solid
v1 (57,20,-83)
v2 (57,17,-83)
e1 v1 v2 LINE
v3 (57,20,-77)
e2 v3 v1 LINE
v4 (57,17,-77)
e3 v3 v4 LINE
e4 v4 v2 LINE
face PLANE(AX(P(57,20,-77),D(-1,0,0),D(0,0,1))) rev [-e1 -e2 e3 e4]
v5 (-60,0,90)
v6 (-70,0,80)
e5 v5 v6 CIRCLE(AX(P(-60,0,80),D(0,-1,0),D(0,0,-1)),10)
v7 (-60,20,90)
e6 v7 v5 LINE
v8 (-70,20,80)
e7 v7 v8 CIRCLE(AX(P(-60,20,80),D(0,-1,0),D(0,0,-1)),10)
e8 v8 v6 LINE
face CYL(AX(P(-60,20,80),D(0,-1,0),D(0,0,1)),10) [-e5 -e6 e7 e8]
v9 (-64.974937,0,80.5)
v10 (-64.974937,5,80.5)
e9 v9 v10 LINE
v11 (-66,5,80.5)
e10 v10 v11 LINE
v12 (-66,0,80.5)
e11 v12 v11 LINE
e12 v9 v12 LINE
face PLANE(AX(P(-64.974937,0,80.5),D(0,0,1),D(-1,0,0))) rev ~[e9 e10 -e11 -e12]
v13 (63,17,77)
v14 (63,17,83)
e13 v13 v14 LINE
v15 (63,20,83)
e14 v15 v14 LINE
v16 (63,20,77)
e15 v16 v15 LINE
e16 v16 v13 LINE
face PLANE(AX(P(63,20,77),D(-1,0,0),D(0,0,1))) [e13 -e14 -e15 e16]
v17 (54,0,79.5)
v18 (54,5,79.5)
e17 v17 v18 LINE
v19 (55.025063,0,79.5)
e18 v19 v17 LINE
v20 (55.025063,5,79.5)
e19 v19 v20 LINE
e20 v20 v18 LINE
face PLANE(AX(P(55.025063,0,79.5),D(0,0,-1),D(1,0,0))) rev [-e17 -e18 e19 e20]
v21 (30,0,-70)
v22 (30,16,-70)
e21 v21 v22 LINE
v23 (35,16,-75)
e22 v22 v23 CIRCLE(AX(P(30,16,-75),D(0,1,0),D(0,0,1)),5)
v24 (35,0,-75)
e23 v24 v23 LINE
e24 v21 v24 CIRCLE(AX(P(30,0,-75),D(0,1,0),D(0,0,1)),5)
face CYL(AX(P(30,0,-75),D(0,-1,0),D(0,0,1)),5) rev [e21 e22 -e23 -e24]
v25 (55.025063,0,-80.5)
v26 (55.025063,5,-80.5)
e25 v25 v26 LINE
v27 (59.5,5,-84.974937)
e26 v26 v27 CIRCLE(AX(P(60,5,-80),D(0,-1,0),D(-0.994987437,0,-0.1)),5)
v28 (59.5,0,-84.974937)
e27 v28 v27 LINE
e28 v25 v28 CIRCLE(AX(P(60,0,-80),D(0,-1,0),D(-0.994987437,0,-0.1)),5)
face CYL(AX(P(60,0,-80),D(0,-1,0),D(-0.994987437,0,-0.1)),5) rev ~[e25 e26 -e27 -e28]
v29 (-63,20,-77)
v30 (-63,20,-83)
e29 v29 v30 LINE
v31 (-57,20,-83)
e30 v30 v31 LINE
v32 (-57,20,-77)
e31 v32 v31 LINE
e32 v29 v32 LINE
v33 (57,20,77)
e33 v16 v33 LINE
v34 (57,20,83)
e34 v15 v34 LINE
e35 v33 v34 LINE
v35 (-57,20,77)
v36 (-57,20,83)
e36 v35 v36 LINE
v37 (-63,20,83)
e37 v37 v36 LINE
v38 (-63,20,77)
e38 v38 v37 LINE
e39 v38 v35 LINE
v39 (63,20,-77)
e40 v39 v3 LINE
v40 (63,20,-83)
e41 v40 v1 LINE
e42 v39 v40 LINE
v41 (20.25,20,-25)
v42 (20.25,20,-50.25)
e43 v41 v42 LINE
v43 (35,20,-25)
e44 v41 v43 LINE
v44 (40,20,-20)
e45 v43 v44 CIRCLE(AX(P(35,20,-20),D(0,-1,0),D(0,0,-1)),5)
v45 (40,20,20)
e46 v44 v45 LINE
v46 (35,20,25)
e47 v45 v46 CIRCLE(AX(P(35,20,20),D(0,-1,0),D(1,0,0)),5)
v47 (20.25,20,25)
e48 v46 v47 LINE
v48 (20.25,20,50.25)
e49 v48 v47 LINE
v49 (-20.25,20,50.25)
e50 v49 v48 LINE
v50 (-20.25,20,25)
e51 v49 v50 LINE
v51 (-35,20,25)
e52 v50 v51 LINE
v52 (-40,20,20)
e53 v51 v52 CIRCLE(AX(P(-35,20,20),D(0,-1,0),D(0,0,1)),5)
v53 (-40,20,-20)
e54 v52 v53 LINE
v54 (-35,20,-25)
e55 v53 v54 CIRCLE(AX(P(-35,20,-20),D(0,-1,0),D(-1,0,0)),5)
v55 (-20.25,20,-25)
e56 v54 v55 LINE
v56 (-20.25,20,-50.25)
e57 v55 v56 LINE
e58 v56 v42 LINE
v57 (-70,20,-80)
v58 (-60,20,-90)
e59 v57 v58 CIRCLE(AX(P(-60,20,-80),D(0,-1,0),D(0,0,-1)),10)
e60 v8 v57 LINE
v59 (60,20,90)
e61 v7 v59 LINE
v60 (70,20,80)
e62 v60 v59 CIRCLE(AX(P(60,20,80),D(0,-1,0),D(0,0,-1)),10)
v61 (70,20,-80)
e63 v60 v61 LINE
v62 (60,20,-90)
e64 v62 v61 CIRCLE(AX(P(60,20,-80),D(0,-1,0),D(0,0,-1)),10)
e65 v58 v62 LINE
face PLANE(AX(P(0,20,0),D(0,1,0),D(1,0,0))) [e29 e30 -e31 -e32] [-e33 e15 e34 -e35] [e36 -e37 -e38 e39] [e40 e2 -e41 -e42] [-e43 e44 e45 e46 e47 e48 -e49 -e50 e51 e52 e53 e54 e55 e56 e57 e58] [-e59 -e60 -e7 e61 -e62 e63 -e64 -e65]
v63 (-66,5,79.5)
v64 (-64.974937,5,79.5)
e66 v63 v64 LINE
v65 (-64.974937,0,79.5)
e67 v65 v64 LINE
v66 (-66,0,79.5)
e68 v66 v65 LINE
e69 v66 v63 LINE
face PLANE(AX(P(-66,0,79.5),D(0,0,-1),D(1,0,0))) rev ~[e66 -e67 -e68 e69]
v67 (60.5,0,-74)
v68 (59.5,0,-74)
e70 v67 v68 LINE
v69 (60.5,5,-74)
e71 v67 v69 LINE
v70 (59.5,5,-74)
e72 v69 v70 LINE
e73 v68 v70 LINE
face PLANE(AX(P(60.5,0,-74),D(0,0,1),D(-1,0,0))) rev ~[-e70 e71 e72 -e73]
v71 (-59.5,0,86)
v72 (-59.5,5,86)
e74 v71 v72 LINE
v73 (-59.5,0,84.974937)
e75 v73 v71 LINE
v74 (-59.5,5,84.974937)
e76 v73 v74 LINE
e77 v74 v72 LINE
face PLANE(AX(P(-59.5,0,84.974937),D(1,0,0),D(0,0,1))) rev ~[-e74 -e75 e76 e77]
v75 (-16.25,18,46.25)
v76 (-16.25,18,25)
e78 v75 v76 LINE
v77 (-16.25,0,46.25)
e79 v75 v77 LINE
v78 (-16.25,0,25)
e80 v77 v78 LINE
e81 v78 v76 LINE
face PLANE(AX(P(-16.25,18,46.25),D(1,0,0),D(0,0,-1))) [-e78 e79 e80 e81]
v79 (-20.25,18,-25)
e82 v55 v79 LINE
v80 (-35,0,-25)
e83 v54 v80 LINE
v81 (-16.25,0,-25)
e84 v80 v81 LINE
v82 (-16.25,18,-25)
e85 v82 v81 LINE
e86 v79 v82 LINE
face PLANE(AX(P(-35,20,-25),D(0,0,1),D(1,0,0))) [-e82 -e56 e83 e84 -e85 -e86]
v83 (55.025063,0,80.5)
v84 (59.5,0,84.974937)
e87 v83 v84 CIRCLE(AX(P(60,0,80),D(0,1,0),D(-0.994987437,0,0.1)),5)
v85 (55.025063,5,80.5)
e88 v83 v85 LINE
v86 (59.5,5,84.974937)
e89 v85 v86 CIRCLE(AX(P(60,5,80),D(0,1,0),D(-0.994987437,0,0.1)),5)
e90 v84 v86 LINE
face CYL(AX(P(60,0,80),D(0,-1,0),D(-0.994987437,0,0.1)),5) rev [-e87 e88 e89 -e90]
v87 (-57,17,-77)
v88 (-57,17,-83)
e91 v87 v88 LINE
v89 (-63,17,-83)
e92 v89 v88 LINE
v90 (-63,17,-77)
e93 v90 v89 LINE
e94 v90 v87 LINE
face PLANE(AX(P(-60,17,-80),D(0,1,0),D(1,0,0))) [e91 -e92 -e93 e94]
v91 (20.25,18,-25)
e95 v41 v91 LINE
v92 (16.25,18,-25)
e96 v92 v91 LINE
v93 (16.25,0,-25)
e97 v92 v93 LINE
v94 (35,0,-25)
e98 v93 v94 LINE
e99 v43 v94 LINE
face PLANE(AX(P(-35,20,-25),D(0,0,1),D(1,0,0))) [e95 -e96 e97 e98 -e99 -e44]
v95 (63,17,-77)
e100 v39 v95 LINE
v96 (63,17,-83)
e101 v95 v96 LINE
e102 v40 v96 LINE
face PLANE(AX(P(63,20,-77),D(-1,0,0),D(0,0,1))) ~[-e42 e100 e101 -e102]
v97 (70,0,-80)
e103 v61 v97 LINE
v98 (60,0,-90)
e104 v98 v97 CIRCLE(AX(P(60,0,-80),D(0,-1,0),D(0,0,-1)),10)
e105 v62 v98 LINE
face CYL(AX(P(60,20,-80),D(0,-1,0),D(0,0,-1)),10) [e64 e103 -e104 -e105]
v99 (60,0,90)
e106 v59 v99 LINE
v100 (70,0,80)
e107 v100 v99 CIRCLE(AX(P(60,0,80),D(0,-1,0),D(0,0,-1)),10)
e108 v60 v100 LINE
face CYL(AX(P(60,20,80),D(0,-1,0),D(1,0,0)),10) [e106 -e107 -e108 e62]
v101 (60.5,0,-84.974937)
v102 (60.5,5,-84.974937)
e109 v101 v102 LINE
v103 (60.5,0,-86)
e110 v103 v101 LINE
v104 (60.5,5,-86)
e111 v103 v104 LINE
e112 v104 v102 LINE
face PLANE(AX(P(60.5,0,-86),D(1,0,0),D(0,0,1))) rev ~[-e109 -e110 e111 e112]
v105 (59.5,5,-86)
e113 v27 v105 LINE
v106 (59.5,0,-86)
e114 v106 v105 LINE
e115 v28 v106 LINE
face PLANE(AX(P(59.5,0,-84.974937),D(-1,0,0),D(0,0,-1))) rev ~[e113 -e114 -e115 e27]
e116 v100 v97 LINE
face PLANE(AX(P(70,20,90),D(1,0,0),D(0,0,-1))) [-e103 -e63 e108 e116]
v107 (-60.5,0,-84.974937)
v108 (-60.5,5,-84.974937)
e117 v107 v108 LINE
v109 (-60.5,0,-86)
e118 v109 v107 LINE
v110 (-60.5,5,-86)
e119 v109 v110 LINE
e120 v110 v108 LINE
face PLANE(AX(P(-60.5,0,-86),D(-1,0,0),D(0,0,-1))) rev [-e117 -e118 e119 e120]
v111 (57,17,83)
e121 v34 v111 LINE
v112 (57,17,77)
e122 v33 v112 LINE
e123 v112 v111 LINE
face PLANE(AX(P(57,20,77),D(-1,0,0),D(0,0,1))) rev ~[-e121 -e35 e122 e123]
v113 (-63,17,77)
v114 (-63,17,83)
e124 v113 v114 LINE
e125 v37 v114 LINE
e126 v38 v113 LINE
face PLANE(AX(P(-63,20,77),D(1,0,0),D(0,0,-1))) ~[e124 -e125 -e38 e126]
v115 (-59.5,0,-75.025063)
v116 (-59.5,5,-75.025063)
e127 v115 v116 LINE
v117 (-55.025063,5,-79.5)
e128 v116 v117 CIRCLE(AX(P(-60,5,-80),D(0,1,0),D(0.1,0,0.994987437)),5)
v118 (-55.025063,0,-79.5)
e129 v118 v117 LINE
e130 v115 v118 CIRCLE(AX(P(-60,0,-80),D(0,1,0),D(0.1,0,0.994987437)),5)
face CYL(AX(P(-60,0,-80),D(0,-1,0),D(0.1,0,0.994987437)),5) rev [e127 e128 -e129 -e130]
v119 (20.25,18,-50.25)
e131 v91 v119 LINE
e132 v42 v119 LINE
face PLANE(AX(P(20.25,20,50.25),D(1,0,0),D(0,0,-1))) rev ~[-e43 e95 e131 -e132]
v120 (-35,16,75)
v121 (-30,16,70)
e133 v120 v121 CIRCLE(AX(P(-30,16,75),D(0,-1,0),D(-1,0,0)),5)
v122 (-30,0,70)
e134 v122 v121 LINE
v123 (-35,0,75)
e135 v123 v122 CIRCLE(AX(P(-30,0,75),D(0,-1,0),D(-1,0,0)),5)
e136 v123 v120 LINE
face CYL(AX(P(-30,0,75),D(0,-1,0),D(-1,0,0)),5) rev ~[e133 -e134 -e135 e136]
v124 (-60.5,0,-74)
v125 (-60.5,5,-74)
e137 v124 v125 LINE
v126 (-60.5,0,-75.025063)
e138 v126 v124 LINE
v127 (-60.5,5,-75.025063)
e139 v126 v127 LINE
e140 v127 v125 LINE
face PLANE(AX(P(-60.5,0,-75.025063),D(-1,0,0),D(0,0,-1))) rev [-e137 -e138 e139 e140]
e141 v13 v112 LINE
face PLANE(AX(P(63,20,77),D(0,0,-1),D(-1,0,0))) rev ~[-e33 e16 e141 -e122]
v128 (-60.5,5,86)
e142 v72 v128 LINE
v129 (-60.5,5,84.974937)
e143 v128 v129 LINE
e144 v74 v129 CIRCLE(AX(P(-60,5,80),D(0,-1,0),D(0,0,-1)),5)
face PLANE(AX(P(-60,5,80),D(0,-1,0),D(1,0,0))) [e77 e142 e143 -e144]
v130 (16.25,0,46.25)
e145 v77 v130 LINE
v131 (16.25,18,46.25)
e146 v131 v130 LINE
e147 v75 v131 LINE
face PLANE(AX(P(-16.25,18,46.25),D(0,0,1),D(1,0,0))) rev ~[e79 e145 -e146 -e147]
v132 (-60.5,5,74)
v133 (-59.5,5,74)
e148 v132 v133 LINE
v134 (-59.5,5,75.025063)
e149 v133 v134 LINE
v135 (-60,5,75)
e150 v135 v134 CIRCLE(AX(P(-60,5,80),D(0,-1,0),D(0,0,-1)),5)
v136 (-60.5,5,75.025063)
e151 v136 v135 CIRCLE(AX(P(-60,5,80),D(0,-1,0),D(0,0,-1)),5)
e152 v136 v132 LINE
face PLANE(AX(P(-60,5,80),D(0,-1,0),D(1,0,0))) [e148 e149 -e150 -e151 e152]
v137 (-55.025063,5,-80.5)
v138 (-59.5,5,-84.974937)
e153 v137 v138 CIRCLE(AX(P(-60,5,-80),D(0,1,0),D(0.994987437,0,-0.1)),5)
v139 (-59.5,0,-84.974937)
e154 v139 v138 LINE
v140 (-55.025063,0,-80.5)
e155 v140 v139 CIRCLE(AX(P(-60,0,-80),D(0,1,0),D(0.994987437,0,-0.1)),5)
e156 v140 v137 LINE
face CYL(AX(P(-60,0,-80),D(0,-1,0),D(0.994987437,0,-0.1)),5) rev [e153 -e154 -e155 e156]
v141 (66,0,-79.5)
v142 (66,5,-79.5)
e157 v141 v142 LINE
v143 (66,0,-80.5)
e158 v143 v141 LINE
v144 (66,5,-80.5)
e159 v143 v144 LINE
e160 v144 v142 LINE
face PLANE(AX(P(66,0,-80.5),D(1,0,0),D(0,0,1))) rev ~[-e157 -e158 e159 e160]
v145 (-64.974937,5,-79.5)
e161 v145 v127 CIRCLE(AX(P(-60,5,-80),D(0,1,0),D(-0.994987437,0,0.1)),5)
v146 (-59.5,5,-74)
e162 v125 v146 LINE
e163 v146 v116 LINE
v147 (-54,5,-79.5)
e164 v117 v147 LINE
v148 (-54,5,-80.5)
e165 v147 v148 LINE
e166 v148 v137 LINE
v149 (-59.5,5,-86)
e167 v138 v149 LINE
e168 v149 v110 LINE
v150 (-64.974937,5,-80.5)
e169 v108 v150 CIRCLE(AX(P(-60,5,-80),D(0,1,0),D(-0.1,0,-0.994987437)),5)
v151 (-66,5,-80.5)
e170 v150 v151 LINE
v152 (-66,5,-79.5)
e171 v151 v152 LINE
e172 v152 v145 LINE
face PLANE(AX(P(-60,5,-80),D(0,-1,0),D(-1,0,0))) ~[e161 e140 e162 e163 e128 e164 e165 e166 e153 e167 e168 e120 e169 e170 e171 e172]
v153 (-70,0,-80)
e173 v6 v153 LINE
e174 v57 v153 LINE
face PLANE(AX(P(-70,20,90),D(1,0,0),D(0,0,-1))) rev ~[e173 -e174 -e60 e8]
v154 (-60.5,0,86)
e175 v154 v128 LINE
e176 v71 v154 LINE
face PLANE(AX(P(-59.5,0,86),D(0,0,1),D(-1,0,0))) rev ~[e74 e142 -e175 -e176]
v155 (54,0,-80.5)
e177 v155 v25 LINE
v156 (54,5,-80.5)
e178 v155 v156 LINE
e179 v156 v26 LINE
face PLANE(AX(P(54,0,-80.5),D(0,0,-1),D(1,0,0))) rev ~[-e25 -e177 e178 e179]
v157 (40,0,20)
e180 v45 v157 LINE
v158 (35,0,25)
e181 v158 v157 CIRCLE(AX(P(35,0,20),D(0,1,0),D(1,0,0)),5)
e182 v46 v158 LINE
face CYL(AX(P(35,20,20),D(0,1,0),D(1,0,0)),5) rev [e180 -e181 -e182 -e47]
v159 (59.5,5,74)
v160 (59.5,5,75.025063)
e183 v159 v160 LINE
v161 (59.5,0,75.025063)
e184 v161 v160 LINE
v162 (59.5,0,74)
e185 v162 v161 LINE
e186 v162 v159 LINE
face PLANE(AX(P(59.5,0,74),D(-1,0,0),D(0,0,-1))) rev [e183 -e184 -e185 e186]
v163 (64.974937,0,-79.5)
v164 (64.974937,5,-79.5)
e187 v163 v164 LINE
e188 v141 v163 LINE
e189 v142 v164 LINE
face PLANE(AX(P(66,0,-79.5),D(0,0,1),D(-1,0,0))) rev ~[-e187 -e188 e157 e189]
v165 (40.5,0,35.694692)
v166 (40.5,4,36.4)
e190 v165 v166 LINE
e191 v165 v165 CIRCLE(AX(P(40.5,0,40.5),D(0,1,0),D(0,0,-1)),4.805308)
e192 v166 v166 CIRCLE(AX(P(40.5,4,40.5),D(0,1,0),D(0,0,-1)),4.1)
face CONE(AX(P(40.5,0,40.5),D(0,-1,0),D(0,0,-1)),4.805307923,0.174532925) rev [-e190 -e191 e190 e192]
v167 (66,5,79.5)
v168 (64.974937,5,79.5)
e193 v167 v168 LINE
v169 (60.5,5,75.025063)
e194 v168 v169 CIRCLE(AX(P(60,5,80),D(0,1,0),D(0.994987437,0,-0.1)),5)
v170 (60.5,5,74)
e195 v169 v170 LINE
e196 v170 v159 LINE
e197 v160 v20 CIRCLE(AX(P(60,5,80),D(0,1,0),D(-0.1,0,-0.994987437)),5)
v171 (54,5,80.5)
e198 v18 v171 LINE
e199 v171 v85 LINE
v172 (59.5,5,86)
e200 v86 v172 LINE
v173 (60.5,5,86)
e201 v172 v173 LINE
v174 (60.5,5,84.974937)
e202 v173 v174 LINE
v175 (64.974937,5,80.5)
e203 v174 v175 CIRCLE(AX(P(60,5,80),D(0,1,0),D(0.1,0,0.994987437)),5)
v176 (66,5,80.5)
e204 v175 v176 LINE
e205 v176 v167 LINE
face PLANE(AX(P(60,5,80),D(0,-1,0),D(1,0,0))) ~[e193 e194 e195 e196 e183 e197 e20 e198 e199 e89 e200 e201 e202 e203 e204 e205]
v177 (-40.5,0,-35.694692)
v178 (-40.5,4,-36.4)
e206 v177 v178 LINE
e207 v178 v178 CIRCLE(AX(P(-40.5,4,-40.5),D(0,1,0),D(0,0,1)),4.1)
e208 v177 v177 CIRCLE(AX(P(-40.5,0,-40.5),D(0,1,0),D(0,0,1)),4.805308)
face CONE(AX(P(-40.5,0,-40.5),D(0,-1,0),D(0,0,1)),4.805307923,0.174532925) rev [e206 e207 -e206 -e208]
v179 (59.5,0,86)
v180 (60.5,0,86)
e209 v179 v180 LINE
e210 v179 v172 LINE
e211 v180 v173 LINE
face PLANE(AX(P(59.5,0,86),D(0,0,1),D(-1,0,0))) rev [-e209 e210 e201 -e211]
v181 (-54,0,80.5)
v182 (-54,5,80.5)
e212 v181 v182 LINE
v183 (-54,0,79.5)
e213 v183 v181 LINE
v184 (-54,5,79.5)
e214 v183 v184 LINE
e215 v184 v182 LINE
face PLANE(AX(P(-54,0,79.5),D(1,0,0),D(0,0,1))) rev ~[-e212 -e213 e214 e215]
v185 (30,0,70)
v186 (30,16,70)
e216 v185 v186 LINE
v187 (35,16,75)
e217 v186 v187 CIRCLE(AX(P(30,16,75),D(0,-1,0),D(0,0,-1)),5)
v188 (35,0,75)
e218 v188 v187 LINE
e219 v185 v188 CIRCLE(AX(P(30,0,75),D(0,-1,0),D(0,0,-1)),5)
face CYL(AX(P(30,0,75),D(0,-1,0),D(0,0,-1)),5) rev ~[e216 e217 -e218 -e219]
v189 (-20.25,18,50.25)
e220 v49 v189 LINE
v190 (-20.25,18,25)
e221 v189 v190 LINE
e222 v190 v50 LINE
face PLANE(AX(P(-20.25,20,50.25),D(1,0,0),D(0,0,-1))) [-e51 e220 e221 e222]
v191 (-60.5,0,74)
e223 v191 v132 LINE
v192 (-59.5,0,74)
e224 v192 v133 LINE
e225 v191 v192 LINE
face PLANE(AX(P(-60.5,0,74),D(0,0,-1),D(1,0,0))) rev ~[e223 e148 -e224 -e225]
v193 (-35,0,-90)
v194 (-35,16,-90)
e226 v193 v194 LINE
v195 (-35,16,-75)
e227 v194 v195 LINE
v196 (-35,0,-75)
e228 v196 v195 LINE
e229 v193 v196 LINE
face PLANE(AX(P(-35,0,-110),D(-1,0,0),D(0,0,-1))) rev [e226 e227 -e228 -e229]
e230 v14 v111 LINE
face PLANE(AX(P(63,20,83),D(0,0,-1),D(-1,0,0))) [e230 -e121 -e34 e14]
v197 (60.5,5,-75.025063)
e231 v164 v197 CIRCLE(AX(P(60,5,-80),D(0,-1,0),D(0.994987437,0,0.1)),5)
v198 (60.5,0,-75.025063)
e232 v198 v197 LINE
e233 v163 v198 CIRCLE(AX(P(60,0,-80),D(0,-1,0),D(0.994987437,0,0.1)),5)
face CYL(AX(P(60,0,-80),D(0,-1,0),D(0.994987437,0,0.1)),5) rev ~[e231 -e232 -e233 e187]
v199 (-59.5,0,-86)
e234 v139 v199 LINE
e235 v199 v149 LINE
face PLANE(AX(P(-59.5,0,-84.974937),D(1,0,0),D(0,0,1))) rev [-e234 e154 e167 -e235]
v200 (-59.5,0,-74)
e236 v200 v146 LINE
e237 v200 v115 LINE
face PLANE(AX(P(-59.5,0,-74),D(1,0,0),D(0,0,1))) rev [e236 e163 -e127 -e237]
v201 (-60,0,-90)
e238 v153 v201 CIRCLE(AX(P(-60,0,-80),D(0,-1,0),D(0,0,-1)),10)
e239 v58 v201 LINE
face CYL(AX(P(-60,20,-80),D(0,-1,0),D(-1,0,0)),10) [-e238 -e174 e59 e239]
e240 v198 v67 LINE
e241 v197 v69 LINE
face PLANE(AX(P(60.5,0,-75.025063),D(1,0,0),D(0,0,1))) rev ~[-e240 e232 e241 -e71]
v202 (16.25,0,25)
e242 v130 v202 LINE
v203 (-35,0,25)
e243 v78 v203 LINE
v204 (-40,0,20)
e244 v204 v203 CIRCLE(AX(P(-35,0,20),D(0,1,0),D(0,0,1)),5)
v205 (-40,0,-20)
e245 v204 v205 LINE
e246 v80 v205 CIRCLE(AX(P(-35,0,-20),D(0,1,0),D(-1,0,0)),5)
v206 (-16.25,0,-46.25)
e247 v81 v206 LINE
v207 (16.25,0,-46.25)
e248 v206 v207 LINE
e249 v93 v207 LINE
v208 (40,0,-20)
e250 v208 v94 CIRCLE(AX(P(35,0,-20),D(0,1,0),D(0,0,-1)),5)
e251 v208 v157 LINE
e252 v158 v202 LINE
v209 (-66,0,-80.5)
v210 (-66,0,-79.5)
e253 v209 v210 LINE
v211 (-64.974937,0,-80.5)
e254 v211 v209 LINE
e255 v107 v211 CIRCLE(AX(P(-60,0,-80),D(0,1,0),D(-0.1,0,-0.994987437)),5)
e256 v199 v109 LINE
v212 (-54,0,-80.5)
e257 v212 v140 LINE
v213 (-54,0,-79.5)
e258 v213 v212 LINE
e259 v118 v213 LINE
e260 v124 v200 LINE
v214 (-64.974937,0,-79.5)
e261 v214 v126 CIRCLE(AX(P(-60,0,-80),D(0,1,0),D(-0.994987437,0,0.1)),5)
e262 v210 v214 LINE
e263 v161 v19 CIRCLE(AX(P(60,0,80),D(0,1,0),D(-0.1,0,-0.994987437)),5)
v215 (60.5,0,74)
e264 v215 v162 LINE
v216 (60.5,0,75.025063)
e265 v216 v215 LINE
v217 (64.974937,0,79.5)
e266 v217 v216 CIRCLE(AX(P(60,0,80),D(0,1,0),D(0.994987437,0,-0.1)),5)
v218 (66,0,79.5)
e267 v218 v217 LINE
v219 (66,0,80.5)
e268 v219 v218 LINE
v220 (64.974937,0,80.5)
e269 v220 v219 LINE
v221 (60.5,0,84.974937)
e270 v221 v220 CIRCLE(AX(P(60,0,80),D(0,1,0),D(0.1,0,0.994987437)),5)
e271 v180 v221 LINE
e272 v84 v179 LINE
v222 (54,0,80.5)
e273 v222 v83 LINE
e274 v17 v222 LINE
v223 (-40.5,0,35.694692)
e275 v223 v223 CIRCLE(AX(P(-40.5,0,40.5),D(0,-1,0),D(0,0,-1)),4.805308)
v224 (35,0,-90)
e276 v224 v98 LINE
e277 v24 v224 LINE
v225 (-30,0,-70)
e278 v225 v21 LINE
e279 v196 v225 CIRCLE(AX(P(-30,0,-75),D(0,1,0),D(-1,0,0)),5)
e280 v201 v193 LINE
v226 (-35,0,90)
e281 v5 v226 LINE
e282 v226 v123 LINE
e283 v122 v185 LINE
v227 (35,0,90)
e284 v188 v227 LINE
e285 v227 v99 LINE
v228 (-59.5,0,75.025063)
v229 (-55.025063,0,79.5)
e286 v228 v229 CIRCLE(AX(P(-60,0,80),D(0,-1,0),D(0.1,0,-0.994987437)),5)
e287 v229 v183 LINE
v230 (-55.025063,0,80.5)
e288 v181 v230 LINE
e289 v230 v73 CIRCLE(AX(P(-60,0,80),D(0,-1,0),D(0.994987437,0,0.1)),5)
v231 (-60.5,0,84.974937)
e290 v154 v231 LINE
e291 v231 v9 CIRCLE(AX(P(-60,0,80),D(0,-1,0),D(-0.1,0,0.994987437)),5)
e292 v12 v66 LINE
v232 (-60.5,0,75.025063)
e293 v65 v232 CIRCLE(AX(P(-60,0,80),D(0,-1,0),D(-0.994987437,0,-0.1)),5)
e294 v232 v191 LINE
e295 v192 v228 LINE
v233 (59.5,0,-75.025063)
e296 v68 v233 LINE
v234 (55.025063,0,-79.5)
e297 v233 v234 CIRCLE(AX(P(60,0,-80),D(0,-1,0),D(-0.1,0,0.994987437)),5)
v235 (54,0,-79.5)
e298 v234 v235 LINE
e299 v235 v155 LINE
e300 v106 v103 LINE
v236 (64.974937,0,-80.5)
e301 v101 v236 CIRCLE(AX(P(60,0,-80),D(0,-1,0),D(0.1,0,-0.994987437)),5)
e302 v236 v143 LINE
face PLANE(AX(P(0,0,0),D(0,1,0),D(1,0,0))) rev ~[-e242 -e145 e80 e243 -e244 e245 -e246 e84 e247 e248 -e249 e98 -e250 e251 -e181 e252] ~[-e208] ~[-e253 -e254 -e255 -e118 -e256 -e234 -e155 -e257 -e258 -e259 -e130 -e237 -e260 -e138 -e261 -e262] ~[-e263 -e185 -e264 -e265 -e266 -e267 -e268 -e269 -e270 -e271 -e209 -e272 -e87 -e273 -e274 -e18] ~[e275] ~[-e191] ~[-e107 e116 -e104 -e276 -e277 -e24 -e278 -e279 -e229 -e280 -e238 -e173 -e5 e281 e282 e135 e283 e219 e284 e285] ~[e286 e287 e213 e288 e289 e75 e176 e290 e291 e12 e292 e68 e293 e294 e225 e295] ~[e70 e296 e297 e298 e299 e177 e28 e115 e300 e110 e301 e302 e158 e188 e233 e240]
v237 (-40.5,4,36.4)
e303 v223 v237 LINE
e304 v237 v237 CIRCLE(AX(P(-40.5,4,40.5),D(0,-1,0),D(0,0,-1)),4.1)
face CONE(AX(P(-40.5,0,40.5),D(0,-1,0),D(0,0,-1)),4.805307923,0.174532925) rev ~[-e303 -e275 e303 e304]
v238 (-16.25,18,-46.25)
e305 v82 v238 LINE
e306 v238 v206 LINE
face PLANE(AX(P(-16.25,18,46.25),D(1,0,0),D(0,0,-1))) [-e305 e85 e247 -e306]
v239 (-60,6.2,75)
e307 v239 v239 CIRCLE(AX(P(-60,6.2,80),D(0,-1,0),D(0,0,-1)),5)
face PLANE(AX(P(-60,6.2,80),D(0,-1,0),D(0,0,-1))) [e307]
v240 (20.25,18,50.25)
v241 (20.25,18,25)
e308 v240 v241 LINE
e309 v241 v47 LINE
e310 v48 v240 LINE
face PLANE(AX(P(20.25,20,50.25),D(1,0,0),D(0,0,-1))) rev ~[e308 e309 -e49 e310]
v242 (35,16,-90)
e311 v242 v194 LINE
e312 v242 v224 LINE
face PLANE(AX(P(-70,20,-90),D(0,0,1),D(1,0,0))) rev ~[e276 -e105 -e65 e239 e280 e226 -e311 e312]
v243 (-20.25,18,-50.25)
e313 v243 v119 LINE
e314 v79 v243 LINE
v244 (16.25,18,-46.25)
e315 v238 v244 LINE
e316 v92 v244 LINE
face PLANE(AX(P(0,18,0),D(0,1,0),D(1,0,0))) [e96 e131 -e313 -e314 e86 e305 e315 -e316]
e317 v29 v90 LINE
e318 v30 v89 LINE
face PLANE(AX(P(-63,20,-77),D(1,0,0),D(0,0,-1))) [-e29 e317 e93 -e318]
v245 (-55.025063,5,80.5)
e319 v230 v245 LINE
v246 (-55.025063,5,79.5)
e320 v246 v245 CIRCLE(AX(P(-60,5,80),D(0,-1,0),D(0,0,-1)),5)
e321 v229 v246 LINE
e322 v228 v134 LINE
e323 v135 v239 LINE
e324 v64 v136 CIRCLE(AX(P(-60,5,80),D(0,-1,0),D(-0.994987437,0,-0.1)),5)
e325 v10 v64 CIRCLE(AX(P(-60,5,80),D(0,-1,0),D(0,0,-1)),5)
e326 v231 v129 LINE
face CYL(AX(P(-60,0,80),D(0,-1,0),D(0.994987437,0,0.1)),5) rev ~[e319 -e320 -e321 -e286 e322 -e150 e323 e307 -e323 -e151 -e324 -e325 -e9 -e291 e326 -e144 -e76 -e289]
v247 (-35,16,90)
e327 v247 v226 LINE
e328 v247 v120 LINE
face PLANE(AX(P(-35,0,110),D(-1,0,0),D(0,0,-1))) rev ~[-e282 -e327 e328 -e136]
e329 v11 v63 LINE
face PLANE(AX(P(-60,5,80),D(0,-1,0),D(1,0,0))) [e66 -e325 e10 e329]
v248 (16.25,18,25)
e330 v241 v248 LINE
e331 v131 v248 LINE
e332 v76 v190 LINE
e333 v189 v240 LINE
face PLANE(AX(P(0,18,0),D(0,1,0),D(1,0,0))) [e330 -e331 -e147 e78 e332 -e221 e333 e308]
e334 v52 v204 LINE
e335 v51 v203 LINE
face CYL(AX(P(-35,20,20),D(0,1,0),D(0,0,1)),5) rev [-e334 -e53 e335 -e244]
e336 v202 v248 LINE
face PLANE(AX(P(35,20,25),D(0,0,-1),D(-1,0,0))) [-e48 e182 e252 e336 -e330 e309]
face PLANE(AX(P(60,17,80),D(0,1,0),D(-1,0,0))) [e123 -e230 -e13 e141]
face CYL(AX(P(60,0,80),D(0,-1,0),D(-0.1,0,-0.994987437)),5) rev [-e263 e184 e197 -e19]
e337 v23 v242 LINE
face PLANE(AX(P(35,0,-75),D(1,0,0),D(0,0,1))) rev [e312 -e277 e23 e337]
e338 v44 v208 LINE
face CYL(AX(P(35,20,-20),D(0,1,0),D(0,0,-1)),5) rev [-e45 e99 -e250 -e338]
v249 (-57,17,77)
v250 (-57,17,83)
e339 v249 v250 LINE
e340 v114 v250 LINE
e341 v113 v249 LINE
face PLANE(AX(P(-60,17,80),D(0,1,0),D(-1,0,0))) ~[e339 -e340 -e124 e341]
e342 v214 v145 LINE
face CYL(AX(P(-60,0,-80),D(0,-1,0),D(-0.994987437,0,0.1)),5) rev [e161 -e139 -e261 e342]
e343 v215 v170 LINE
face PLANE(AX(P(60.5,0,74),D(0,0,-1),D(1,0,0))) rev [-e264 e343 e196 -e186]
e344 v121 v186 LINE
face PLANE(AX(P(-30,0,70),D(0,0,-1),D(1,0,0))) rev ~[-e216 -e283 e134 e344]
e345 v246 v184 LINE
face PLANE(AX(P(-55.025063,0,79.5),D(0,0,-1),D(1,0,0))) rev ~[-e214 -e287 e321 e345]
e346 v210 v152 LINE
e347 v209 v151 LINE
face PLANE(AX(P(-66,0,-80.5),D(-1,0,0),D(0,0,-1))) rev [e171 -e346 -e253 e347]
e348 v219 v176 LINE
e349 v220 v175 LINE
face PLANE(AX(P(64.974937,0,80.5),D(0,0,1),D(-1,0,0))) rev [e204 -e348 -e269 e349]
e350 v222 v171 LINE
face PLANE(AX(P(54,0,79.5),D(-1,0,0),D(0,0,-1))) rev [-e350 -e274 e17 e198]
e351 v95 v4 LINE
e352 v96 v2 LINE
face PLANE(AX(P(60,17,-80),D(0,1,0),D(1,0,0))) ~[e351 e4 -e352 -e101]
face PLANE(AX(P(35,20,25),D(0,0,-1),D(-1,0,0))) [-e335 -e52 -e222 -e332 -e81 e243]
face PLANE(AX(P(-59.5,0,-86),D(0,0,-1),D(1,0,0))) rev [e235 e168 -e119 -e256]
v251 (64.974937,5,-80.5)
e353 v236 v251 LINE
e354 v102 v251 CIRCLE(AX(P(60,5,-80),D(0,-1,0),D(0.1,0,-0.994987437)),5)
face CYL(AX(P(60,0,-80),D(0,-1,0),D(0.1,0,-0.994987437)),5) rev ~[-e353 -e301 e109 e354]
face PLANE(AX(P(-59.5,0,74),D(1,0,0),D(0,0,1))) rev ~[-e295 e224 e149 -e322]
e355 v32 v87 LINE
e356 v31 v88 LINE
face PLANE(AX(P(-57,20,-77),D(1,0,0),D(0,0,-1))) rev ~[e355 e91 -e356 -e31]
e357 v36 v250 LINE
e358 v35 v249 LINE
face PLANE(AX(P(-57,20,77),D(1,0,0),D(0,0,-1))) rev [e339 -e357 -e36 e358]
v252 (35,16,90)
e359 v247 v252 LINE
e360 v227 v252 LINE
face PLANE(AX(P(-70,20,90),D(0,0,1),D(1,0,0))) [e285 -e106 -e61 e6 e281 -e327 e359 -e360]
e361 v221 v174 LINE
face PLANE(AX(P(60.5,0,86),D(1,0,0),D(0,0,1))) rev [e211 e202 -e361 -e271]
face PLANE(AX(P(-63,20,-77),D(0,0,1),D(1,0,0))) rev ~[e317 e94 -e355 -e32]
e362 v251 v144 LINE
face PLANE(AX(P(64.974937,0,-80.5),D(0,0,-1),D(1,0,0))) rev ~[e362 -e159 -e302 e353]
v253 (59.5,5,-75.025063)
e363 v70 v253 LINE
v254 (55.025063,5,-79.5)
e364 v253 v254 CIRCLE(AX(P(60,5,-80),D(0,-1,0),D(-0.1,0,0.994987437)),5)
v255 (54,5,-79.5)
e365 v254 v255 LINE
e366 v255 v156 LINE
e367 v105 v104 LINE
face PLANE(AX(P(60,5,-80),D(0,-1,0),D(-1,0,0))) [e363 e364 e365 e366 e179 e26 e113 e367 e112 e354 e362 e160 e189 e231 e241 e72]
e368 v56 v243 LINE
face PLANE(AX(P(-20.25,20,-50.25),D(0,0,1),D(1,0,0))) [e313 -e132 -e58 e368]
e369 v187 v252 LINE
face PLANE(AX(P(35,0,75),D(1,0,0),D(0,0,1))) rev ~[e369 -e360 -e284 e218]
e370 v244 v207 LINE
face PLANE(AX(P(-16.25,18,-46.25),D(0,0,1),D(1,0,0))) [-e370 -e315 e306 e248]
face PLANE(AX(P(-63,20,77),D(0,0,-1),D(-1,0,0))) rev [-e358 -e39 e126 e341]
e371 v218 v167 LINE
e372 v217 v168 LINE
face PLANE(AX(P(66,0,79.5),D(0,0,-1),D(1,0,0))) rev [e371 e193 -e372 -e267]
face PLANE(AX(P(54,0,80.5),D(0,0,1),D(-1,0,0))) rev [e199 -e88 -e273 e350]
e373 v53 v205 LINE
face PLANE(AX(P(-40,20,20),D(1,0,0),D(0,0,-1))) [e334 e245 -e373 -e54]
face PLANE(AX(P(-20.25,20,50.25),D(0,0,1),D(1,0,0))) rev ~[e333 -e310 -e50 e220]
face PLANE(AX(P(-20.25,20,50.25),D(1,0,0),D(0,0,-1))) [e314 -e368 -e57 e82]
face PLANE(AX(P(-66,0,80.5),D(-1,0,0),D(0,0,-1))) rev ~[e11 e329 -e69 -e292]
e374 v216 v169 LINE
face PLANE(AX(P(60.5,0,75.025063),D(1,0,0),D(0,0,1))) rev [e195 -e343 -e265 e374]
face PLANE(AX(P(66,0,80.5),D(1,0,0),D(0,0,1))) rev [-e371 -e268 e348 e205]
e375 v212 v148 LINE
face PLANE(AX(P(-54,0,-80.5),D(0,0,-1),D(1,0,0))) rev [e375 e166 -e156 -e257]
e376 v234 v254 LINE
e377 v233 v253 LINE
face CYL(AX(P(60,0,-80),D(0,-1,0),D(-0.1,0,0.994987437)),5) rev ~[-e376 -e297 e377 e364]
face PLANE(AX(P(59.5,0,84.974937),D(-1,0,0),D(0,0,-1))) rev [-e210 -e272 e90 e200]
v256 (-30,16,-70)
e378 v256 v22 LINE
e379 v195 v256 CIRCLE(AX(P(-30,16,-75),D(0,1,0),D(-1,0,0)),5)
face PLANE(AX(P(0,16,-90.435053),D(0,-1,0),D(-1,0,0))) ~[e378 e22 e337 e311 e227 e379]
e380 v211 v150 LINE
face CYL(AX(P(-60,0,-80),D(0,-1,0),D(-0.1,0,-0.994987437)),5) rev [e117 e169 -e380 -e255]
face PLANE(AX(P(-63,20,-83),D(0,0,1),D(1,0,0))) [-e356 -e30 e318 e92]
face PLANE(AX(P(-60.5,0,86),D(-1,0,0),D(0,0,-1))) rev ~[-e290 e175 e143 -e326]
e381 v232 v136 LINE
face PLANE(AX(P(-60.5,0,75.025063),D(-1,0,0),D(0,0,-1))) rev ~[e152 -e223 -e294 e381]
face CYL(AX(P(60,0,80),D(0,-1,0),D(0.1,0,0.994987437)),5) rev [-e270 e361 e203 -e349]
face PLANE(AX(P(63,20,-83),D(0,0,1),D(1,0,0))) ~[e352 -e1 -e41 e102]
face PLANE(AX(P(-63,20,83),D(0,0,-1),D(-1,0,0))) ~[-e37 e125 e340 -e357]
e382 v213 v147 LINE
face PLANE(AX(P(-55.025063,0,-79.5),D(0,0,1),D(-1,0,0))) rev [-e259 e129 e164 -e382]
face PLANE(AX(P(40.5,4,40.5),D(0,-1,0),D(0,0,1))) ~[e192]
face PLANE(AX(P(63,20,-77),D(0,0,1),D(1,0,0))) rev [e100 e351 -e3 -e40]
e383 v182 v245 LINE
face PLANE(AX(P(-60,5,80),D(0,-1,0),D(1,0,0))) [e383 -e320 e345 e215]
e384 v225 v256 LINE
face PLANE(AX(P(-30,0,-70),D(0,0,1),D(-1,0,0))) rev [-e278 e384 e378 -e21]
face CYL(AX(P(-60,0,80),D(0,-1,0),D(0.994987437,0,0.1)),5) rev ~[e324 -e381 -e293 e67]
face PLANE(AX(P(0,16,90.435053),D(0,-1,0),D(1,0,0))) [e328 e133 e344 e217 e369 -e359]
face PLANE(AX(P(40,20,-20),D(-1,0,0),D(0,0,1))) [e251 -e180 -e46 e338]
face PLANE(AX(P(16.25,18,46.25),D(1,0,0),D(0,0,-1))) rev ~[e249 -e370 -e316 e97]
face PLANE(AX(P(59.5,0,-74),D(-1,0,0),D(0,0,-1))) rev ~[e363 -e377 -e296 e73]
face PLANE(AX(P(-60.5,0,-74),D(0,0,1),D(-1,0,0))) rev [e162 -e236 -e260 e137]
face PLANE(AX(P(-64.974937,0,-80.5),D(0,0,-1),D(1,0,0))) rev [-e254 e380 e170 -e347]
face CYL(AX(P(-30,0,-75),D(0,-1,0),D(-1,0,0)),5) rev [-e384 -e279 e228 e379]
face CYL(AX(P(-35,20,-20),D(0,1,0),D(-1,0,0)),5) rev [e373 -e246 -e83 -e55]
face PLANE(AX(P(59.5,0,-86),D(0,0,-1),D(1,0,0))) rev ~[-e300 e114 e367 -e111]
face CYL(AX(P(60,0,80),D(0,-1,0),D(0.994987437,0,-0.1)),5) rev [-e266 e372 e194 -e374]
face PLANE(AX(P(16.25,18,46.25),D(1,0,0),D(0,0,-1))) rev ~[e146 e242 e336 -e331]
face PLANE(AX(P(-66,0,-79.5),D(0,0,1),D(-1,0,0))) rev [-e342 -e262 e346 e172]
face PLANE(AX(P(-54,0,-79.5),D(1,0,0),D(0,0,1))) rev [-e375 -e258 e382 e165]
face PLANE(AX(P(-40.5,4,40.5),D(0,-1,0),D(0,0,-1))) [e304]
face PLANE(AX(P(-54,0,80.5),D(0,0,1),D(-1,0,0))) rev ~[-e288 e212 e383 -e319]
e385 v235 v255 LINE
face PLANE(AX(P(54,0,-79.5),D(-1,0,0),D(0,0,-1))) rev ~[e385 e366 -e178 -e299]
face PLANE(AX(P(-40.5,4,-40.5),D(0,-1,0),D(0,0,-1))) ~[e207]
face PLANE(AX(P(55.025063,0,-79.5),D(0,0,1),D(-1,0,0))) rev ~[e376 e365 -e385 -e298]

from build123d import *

# Parameters (mm, degrees)
SKETCH_1_W                                 = 200
SKETCH_1_H                                 = 200
EXTRUDE_1_DEPTH                            = 20
SKETCH_2_W                                 = 200
SKETCH_2_H                                 = 200
SKETCH_2_W_2                               = 140
SKETCH_2_H_2                               = 180
CUT_EXTRUDE_2_DEPTH                        = 143.828568571
FILLET_1_R                                 = 10
FILLET_2_R                                 = 10
FILLET_3_R                                 = 10
FILLET_4_R                                 = 10
CUT_EXTRUDE_4_DEPTH                        = 5
MIRROR_3_AT_THE_SECOND_PLANE_COPY_1_DEPTH  = 5
SKETCH_5_R                                 = 5
CUT_EXTRUDE_5_DEPTH                        = 6.2
CUT_EXTRUDE_7_DEPTH                        = 16
SKETCH_8_R                                 = 4.1
CUT_EXTRUDE_8_DEPTH                        = 4
DRAFT_2_ANGLE                              = 10
DRAFT_2_OF_MIRROR_10_2_ANGLE               = 10
DRAFT_2_OF_MIRROR_11_2_ANGLE               = 10
SKETCH_14_W                                = 6
SKETCH_14_H                                = 6
CUT_EXTRUDE_9_DEPTH                        = 3
MIRROR_12_AT_THE_SECOND_PLANE_COPY_1_SKE_W = 6
MIRROR_12_AT_THE_SECOND_PLANE_COPY_1_SKE_H = 6
MIRROR_12_AT_THE_SECOND_PLANE_COPY_1_DEPTH = 3
SKETCH_16_W                                = 40.5
SKETCH_16_H                                = 100.5
CUT_EXTRUDE_10_DEPTH                       = 2
SKETCH_17_W                                = 32.5
SKETCH_17_H                                = 92.5
CUT_EXTRUDE_11_DEPTH                       = 116.429632244
CUT_EXTRUDE_12_DEPTH                       = 116.758369028


with BuildPart() as part:
    # 草图1 → 凸台-拉伸1 (new body)
    with BuildSketch(Plane(origin=(0, 0, 0), x_dir=(1, 0, 0), z_dir=(0, 1, 0))):
        Rectangle(SKETCH_1_W, SKETCH_1_H)
    extrude(amount=EXTRUDE_1_DEPTH)

    # 草图2 → 切除-拉伸2 (cut, through all)
    with BuildSketch(Plane(origin=(0, 20, 0), x_dir=(1, 0, 0), z_dir=(0, 1, 0))):
        Rectangle(SKETCH_2_W, SKETCH_2_H)
        Rectangle(SKETCH_2_W_2, SKETCH_2_H_2, mode=Mode.SUBTRACT)
    extrude(amount=-CUT_EXTRUDE_2_DEPTH, mode=Mode.SUBTRACT)

    # 圆角1
    fillet_1_edges = [part.edges().sort_by_distance(p)[0] for p in [
        (-70, 10, -90),
    ]]
    fillet(fillet_1_edges, radius=FILLET_1_R)

    # 圆角2
    fillet_2_edges = [part.edges().sort_by_distance(p)[0] for p in [
        (70, 10, -90),
    ]]
    fillet(fillet_2_edges, radius=FILLET_2_R)

    # 圆角3
    fillet_3_edges = [part.edges().sort_by_distance(p)[0] for p in [
        (70, 10, 90),
    ]]
    fillet(fillet_3_edges, radius=FILLET_3_R)

    # 圆角4
    fillet_4_edges = [part.edges().sort_by_distance(p)[0] for p in [
        (-70, 10, 90),
    ]]
    fillet(fillet_4_edges, radius=FILLET_4_R)

    # 草图4 → 切除-拉伸4 (cut)
    with BuildSketch(Plane.XZ):
        with BuildLine():
            Line((-59.5, 84.974937186), (-59.5, 86))
            Line((-59.5, 86), (-60.5, 86))
            Line((-60.5, 86), (-60.5, 84.974937186))
            ThreePointArc((-60.5, 84.974937186), (-63.535533906, 83.535533906), (-64.974937186, 80.5))
            Line((-64.974937186, 80.5), (-66, 80.5))
            Line((-66, 80.5), (-66, 79.5))
            Line((-66, 79.5), (-64.974937186, 79.5))
            ThreePointArc((-64.974937186, 79.5), (-63.535533906, 76.464466094), (-60.5, 75.025062814))
            Line((-60.5, 75.025062814), (-60.5, 74))
            Line((-60.5, 74), (-59.5, 74))
            Line((-59.5, 74), (-59.5, 75.025062814))
            ThreePointArc((-59.5, 75.025062814), (-56.464466094, 76.464466094), (-55.025062814, 79.5))
            Line((-55.025062814, 79.5), (-54, 79.5))
            Line((-54, 79.5), (-54, 80.5))
            Line((-54, 80.5), (-55.025062814, 80.5))
            ThreePointArc((-55.025062814, 80.5), (-56.464466094, 83.535533906), (-59.5, 84.974937186))
        make_face()
    cut_extrude_4 = extrude(amount=-CUT_EXTRUDE_4_DEPTH, mode=Mode.SUBTRACT)

    # 镜向3: 切除-拉伸4 across plane
    add(cut_extrude_4.mirror(Plane(origin=(0, 0, 0), x_dir=(0, 0, 1), z_dir=(1, 0, 0))), mode=Mode.SUBTRACT)

    # 镜向3 at the second plane: 切除-拉伸4 across plane
    add(cut_extrude_4.mirror(Plane.XY), mode=Mode.SUBTRACT)

    # 镜向3 at the second plane copy 1 sket → 镜向3 at the second plane copy 1 (cut)
    with BuildSketch(Plane(origin=(0, 0, 0), x_dir=(-1, 0, 0), z_dir=(0, -1, 0))):
        with BuildLine():
            Line((-59.5, 84.974937186), (-59.5, 86))
            Line((-59.5, 86), (-60.5, 86))
            Line((-60.5, 86), (-60.5, 84.974937186))
            ThreePointArc((-60.5, 84.974937186), (-63.535533906, 83.535533906), (-64.974937186, 80.5))
            Line((-64.974937186, 80.5), (-66, 80.5))
            Line((-66, 80.5), (-66, 79.5))
            Line((-66, 79.5), (-64.974937186, 79.5))
            ThreePointArc((-64.974937186, 79.5), (-63.535533906, 76.464466094), (-60.5, 75.025062814))
            Line((-60.5, 75.025062814), (-60.5, 74))
            Line((-60.5, 74), (-59.5, 74))
            Line((-59.5, 74), (-59.5, 75.025062814))
            ThreePointArc((-59.5, 75.025062814), (-56.464466094, 76.464466094), (-55.025062814, 79.5))
            Line((-55.025062814, 79.5), (-54, 79.5))
            Line((-54, 79.5), (-54, 80.5))
            Line((-54, 80.5), (-55.025062814, 80.5))
            ThreePointArc((-55.025062814, 80.5), (-56.464466094, 83.535533906), (-59.5, 84.974937186))
        make_face()
    extrude(amount=-MIRROR_3_AT_THE_SECOND_PLANE_COPY_1_DEPTH, mode=Mode.SUBTRACT)

    # 草图5 → 切除-拉伸5 (cut)
    with BuildSketch(Plane.XZ):
        with Locations(Location((-60, 80, 0), (0, 0, 270))):
            Circle(SKETCH_5_R)
    extrude(amount=-CUT_EXTRUDE_5_DEPTH, mode=Mode.SUBTRACT)

    # 草图7 → 切除-拉伸7 (cut)
    with BuildSketch(Plane.XZ):
        with BuildLine():
            Line((35, 110), (-35, 110))
            Line((-35, 110), (-35, 75))
            ThreePointArc((-35, 75), (-33.535533906, 71.464466094), (-30, 70))
            Line((-30, 70), (30, 70))
            ThreePointArc((30, 70), (33.535533906, 71.464466094), (35, 75))
            Line((35, 75), (35, 110))
        make_face()
    cut_extrude_7 = extrude(amount=-CUT_EXTRUDE_7_DEPTH, mode=Mode.SUBTRACT)

    # 镜向6: 切除-拉伸7 across plane
    add(cut_extrude_7.mirror(Plane.XY), mode=Mode.SUBTRACT)

    # 草图8 → 切除-拉伸8 (cut)
    with BuildSketch(Plane.XZ):
        with Locations(Location((-40.5, 40.5, 0), (0, 0, 270))):
            Circle(SKETCH_8_R)
    cut_extrude_8 = extrude(amount=-CUT_EXTRUDE_8_DEPTH, mode=Mode.SUBTRACT)

    # 拔模2
    draft_2_faces = [part.faces().sort_by_distance(p)[0] for p in [
        (-40.5, 2, 44.6),
    ]]
    draft(draft_2_faces, Plane(origin=(-40.5, 4, 40.5), x_dir=(0, 0, -1), z_dir=(0, -1, 0)), DRAFT_2_ANGLE)

    # 镜向10: 切除-拉伸8 across plane
    add(cut_extrude_8.mirror(Plane(origin=(0, 0, 0), x_dir=(0, 0, 1), z_dir=(1, 0, 0))), mode=Mode.SUBTRACT)

    # 拔模2 of Mirror 10 2
    draft_2_of_mirror_10_2_faces = [part.faces().sort_by_distance(p)[0] for p in [
        (40.5, 2, 44.6),
    ]]
    draft(draft_2_of_mirror_10_2_faces, Plane(origin=(40.5, 4, 40.5), x_dir=(0, 0, -1), z_dir=(0, -1, 0)), DRAFT_2_OF_MIRROR_10_2_ANGLE)

    # 镜向11: 切除-拉伸8 across plane
    add(cut_extrude_8.mirror(Plane.XY), mode=Mode.SUBTRACT)

    # 拔模2 of Mirror 11 2
    draft_2_of_mirror_11_2_faces = [part.faces().sort_by_distance(p)[0] for p in [
        (-40.5, 2, -44.6),
    ]]
    draft(draft_2_of_mirror_11_2_faces, Plane(origin=(-40.5, 4, -40.5), x_dir=(0, 0, 1), z_dir=(0, -1, 0)), DRAFT_2_OF_MIRROR_11_2_ANGLE)

    # 草图14 → 切除-拉伸9 (cut)
    with BuildSketch(Plane(origin=(0, 20, 0), x_dir=(1, 0, 0), z_dir=(0, 1, 0))):
        with Locations((-60, 80)):
            Rectangle(SKETCH_14_W, SKETCH_14_H)
    cut_extrude_9 = extrude(amount=-CUT_EXTRUDE_9_DEPTH, mode=Mode.SUBTRACT)

    # 镜向12: 切除-拉伸9 across plane
    add(cut_extrude_9.mirror(Plane(origin=(0, 0, 0), x_dir=(0, 0, 1), z_dir=(1, 0, 0))), mode=Mode.SUBTRACT)

    # 镜向12 at the second plane: 切除-拉伸9 across plane
    add(cut_extrude_9.mirror(Plane.XY), mode=Mode.SUBTRACT)

    # 镜向12 at the second plane copy 1 ske → 镜向12 at the second plane copy 1 (cut)
    with BuildSketch(Plane(origin=(0, 20, 0), x_dir=(-1, 0, 0), z_dir=(0, 1, 0))):
        with Locations((-60, 80)):
            Rectangle(MIRROR_12_AT_THE_SECOND_PLANE_COPY_1_SKE_W, MIRROR_12_AT_THE_SECOND_PLANE_COPY_1_SKE_H)
    extrude(amount=-MIRROR_12_AT_THE_SECOND_PLANE_COPY_1_DEPTH, mode=Mode.SUBTRACT)

    # 草图16 → 切除-拉伸10 (cut)
    with BuildSketch(Plane(origin=(0, 20, 0), x_dir=(1, 0, 0), z_dir=(0, 1, 0))):
        Rectangle(SKETCH_16_W, SKETCH_16_H)
    extrude(amount=-CUT_EXTRUDE_10_DEPTH, mode=Mode.SUBTRACT)

    # 草图17 → 切除-拉伸11 (cut, through all)
    with BuildSketch(Plane(origin=(0, 18, 0), x_dir=(1, 0, 0), z_dir=(0, 1, 0))):
        Rectangle(SKETCH_17_W, SKETCH_17_H)
    extrude(amount=-CUT_EXTRUDE_11_DEPTH, mode=Mode.SUBTRACT)

    # 草图18 → 切除-拉伸12 (cut, through all)
    with BuildSketch(Plane(origin=(0, 20, 0), x_dir=(1, 0, 0), z_dir=(0, 1, 0))):
        with BuildLine():
            Line((35, -25), (-35, -25))
            ThreePointArc((-35, -25), (-38.535533906, -23.535533906), (-40, -20))
            Line((-40, -20), (-40, 20))
            ThreePointArc((-40, 20), (-38.535533906, 23.535533906), (-35, 25))
            Line((-35, 25), (35, 25))
            ThreePointArc((35, 25), (38.535533906, 23.535533906), (40, 20))
            Line((40, 20), (40, -20))
            ThreePointArc((40, -20), (38.535533906, -23.535533906), (35, -25))
        make_face()
    extrude(amount=-CUT_EXTRUDE_12_DEPTH, mode=Mode.SUBTRACT)


solid = part.part
